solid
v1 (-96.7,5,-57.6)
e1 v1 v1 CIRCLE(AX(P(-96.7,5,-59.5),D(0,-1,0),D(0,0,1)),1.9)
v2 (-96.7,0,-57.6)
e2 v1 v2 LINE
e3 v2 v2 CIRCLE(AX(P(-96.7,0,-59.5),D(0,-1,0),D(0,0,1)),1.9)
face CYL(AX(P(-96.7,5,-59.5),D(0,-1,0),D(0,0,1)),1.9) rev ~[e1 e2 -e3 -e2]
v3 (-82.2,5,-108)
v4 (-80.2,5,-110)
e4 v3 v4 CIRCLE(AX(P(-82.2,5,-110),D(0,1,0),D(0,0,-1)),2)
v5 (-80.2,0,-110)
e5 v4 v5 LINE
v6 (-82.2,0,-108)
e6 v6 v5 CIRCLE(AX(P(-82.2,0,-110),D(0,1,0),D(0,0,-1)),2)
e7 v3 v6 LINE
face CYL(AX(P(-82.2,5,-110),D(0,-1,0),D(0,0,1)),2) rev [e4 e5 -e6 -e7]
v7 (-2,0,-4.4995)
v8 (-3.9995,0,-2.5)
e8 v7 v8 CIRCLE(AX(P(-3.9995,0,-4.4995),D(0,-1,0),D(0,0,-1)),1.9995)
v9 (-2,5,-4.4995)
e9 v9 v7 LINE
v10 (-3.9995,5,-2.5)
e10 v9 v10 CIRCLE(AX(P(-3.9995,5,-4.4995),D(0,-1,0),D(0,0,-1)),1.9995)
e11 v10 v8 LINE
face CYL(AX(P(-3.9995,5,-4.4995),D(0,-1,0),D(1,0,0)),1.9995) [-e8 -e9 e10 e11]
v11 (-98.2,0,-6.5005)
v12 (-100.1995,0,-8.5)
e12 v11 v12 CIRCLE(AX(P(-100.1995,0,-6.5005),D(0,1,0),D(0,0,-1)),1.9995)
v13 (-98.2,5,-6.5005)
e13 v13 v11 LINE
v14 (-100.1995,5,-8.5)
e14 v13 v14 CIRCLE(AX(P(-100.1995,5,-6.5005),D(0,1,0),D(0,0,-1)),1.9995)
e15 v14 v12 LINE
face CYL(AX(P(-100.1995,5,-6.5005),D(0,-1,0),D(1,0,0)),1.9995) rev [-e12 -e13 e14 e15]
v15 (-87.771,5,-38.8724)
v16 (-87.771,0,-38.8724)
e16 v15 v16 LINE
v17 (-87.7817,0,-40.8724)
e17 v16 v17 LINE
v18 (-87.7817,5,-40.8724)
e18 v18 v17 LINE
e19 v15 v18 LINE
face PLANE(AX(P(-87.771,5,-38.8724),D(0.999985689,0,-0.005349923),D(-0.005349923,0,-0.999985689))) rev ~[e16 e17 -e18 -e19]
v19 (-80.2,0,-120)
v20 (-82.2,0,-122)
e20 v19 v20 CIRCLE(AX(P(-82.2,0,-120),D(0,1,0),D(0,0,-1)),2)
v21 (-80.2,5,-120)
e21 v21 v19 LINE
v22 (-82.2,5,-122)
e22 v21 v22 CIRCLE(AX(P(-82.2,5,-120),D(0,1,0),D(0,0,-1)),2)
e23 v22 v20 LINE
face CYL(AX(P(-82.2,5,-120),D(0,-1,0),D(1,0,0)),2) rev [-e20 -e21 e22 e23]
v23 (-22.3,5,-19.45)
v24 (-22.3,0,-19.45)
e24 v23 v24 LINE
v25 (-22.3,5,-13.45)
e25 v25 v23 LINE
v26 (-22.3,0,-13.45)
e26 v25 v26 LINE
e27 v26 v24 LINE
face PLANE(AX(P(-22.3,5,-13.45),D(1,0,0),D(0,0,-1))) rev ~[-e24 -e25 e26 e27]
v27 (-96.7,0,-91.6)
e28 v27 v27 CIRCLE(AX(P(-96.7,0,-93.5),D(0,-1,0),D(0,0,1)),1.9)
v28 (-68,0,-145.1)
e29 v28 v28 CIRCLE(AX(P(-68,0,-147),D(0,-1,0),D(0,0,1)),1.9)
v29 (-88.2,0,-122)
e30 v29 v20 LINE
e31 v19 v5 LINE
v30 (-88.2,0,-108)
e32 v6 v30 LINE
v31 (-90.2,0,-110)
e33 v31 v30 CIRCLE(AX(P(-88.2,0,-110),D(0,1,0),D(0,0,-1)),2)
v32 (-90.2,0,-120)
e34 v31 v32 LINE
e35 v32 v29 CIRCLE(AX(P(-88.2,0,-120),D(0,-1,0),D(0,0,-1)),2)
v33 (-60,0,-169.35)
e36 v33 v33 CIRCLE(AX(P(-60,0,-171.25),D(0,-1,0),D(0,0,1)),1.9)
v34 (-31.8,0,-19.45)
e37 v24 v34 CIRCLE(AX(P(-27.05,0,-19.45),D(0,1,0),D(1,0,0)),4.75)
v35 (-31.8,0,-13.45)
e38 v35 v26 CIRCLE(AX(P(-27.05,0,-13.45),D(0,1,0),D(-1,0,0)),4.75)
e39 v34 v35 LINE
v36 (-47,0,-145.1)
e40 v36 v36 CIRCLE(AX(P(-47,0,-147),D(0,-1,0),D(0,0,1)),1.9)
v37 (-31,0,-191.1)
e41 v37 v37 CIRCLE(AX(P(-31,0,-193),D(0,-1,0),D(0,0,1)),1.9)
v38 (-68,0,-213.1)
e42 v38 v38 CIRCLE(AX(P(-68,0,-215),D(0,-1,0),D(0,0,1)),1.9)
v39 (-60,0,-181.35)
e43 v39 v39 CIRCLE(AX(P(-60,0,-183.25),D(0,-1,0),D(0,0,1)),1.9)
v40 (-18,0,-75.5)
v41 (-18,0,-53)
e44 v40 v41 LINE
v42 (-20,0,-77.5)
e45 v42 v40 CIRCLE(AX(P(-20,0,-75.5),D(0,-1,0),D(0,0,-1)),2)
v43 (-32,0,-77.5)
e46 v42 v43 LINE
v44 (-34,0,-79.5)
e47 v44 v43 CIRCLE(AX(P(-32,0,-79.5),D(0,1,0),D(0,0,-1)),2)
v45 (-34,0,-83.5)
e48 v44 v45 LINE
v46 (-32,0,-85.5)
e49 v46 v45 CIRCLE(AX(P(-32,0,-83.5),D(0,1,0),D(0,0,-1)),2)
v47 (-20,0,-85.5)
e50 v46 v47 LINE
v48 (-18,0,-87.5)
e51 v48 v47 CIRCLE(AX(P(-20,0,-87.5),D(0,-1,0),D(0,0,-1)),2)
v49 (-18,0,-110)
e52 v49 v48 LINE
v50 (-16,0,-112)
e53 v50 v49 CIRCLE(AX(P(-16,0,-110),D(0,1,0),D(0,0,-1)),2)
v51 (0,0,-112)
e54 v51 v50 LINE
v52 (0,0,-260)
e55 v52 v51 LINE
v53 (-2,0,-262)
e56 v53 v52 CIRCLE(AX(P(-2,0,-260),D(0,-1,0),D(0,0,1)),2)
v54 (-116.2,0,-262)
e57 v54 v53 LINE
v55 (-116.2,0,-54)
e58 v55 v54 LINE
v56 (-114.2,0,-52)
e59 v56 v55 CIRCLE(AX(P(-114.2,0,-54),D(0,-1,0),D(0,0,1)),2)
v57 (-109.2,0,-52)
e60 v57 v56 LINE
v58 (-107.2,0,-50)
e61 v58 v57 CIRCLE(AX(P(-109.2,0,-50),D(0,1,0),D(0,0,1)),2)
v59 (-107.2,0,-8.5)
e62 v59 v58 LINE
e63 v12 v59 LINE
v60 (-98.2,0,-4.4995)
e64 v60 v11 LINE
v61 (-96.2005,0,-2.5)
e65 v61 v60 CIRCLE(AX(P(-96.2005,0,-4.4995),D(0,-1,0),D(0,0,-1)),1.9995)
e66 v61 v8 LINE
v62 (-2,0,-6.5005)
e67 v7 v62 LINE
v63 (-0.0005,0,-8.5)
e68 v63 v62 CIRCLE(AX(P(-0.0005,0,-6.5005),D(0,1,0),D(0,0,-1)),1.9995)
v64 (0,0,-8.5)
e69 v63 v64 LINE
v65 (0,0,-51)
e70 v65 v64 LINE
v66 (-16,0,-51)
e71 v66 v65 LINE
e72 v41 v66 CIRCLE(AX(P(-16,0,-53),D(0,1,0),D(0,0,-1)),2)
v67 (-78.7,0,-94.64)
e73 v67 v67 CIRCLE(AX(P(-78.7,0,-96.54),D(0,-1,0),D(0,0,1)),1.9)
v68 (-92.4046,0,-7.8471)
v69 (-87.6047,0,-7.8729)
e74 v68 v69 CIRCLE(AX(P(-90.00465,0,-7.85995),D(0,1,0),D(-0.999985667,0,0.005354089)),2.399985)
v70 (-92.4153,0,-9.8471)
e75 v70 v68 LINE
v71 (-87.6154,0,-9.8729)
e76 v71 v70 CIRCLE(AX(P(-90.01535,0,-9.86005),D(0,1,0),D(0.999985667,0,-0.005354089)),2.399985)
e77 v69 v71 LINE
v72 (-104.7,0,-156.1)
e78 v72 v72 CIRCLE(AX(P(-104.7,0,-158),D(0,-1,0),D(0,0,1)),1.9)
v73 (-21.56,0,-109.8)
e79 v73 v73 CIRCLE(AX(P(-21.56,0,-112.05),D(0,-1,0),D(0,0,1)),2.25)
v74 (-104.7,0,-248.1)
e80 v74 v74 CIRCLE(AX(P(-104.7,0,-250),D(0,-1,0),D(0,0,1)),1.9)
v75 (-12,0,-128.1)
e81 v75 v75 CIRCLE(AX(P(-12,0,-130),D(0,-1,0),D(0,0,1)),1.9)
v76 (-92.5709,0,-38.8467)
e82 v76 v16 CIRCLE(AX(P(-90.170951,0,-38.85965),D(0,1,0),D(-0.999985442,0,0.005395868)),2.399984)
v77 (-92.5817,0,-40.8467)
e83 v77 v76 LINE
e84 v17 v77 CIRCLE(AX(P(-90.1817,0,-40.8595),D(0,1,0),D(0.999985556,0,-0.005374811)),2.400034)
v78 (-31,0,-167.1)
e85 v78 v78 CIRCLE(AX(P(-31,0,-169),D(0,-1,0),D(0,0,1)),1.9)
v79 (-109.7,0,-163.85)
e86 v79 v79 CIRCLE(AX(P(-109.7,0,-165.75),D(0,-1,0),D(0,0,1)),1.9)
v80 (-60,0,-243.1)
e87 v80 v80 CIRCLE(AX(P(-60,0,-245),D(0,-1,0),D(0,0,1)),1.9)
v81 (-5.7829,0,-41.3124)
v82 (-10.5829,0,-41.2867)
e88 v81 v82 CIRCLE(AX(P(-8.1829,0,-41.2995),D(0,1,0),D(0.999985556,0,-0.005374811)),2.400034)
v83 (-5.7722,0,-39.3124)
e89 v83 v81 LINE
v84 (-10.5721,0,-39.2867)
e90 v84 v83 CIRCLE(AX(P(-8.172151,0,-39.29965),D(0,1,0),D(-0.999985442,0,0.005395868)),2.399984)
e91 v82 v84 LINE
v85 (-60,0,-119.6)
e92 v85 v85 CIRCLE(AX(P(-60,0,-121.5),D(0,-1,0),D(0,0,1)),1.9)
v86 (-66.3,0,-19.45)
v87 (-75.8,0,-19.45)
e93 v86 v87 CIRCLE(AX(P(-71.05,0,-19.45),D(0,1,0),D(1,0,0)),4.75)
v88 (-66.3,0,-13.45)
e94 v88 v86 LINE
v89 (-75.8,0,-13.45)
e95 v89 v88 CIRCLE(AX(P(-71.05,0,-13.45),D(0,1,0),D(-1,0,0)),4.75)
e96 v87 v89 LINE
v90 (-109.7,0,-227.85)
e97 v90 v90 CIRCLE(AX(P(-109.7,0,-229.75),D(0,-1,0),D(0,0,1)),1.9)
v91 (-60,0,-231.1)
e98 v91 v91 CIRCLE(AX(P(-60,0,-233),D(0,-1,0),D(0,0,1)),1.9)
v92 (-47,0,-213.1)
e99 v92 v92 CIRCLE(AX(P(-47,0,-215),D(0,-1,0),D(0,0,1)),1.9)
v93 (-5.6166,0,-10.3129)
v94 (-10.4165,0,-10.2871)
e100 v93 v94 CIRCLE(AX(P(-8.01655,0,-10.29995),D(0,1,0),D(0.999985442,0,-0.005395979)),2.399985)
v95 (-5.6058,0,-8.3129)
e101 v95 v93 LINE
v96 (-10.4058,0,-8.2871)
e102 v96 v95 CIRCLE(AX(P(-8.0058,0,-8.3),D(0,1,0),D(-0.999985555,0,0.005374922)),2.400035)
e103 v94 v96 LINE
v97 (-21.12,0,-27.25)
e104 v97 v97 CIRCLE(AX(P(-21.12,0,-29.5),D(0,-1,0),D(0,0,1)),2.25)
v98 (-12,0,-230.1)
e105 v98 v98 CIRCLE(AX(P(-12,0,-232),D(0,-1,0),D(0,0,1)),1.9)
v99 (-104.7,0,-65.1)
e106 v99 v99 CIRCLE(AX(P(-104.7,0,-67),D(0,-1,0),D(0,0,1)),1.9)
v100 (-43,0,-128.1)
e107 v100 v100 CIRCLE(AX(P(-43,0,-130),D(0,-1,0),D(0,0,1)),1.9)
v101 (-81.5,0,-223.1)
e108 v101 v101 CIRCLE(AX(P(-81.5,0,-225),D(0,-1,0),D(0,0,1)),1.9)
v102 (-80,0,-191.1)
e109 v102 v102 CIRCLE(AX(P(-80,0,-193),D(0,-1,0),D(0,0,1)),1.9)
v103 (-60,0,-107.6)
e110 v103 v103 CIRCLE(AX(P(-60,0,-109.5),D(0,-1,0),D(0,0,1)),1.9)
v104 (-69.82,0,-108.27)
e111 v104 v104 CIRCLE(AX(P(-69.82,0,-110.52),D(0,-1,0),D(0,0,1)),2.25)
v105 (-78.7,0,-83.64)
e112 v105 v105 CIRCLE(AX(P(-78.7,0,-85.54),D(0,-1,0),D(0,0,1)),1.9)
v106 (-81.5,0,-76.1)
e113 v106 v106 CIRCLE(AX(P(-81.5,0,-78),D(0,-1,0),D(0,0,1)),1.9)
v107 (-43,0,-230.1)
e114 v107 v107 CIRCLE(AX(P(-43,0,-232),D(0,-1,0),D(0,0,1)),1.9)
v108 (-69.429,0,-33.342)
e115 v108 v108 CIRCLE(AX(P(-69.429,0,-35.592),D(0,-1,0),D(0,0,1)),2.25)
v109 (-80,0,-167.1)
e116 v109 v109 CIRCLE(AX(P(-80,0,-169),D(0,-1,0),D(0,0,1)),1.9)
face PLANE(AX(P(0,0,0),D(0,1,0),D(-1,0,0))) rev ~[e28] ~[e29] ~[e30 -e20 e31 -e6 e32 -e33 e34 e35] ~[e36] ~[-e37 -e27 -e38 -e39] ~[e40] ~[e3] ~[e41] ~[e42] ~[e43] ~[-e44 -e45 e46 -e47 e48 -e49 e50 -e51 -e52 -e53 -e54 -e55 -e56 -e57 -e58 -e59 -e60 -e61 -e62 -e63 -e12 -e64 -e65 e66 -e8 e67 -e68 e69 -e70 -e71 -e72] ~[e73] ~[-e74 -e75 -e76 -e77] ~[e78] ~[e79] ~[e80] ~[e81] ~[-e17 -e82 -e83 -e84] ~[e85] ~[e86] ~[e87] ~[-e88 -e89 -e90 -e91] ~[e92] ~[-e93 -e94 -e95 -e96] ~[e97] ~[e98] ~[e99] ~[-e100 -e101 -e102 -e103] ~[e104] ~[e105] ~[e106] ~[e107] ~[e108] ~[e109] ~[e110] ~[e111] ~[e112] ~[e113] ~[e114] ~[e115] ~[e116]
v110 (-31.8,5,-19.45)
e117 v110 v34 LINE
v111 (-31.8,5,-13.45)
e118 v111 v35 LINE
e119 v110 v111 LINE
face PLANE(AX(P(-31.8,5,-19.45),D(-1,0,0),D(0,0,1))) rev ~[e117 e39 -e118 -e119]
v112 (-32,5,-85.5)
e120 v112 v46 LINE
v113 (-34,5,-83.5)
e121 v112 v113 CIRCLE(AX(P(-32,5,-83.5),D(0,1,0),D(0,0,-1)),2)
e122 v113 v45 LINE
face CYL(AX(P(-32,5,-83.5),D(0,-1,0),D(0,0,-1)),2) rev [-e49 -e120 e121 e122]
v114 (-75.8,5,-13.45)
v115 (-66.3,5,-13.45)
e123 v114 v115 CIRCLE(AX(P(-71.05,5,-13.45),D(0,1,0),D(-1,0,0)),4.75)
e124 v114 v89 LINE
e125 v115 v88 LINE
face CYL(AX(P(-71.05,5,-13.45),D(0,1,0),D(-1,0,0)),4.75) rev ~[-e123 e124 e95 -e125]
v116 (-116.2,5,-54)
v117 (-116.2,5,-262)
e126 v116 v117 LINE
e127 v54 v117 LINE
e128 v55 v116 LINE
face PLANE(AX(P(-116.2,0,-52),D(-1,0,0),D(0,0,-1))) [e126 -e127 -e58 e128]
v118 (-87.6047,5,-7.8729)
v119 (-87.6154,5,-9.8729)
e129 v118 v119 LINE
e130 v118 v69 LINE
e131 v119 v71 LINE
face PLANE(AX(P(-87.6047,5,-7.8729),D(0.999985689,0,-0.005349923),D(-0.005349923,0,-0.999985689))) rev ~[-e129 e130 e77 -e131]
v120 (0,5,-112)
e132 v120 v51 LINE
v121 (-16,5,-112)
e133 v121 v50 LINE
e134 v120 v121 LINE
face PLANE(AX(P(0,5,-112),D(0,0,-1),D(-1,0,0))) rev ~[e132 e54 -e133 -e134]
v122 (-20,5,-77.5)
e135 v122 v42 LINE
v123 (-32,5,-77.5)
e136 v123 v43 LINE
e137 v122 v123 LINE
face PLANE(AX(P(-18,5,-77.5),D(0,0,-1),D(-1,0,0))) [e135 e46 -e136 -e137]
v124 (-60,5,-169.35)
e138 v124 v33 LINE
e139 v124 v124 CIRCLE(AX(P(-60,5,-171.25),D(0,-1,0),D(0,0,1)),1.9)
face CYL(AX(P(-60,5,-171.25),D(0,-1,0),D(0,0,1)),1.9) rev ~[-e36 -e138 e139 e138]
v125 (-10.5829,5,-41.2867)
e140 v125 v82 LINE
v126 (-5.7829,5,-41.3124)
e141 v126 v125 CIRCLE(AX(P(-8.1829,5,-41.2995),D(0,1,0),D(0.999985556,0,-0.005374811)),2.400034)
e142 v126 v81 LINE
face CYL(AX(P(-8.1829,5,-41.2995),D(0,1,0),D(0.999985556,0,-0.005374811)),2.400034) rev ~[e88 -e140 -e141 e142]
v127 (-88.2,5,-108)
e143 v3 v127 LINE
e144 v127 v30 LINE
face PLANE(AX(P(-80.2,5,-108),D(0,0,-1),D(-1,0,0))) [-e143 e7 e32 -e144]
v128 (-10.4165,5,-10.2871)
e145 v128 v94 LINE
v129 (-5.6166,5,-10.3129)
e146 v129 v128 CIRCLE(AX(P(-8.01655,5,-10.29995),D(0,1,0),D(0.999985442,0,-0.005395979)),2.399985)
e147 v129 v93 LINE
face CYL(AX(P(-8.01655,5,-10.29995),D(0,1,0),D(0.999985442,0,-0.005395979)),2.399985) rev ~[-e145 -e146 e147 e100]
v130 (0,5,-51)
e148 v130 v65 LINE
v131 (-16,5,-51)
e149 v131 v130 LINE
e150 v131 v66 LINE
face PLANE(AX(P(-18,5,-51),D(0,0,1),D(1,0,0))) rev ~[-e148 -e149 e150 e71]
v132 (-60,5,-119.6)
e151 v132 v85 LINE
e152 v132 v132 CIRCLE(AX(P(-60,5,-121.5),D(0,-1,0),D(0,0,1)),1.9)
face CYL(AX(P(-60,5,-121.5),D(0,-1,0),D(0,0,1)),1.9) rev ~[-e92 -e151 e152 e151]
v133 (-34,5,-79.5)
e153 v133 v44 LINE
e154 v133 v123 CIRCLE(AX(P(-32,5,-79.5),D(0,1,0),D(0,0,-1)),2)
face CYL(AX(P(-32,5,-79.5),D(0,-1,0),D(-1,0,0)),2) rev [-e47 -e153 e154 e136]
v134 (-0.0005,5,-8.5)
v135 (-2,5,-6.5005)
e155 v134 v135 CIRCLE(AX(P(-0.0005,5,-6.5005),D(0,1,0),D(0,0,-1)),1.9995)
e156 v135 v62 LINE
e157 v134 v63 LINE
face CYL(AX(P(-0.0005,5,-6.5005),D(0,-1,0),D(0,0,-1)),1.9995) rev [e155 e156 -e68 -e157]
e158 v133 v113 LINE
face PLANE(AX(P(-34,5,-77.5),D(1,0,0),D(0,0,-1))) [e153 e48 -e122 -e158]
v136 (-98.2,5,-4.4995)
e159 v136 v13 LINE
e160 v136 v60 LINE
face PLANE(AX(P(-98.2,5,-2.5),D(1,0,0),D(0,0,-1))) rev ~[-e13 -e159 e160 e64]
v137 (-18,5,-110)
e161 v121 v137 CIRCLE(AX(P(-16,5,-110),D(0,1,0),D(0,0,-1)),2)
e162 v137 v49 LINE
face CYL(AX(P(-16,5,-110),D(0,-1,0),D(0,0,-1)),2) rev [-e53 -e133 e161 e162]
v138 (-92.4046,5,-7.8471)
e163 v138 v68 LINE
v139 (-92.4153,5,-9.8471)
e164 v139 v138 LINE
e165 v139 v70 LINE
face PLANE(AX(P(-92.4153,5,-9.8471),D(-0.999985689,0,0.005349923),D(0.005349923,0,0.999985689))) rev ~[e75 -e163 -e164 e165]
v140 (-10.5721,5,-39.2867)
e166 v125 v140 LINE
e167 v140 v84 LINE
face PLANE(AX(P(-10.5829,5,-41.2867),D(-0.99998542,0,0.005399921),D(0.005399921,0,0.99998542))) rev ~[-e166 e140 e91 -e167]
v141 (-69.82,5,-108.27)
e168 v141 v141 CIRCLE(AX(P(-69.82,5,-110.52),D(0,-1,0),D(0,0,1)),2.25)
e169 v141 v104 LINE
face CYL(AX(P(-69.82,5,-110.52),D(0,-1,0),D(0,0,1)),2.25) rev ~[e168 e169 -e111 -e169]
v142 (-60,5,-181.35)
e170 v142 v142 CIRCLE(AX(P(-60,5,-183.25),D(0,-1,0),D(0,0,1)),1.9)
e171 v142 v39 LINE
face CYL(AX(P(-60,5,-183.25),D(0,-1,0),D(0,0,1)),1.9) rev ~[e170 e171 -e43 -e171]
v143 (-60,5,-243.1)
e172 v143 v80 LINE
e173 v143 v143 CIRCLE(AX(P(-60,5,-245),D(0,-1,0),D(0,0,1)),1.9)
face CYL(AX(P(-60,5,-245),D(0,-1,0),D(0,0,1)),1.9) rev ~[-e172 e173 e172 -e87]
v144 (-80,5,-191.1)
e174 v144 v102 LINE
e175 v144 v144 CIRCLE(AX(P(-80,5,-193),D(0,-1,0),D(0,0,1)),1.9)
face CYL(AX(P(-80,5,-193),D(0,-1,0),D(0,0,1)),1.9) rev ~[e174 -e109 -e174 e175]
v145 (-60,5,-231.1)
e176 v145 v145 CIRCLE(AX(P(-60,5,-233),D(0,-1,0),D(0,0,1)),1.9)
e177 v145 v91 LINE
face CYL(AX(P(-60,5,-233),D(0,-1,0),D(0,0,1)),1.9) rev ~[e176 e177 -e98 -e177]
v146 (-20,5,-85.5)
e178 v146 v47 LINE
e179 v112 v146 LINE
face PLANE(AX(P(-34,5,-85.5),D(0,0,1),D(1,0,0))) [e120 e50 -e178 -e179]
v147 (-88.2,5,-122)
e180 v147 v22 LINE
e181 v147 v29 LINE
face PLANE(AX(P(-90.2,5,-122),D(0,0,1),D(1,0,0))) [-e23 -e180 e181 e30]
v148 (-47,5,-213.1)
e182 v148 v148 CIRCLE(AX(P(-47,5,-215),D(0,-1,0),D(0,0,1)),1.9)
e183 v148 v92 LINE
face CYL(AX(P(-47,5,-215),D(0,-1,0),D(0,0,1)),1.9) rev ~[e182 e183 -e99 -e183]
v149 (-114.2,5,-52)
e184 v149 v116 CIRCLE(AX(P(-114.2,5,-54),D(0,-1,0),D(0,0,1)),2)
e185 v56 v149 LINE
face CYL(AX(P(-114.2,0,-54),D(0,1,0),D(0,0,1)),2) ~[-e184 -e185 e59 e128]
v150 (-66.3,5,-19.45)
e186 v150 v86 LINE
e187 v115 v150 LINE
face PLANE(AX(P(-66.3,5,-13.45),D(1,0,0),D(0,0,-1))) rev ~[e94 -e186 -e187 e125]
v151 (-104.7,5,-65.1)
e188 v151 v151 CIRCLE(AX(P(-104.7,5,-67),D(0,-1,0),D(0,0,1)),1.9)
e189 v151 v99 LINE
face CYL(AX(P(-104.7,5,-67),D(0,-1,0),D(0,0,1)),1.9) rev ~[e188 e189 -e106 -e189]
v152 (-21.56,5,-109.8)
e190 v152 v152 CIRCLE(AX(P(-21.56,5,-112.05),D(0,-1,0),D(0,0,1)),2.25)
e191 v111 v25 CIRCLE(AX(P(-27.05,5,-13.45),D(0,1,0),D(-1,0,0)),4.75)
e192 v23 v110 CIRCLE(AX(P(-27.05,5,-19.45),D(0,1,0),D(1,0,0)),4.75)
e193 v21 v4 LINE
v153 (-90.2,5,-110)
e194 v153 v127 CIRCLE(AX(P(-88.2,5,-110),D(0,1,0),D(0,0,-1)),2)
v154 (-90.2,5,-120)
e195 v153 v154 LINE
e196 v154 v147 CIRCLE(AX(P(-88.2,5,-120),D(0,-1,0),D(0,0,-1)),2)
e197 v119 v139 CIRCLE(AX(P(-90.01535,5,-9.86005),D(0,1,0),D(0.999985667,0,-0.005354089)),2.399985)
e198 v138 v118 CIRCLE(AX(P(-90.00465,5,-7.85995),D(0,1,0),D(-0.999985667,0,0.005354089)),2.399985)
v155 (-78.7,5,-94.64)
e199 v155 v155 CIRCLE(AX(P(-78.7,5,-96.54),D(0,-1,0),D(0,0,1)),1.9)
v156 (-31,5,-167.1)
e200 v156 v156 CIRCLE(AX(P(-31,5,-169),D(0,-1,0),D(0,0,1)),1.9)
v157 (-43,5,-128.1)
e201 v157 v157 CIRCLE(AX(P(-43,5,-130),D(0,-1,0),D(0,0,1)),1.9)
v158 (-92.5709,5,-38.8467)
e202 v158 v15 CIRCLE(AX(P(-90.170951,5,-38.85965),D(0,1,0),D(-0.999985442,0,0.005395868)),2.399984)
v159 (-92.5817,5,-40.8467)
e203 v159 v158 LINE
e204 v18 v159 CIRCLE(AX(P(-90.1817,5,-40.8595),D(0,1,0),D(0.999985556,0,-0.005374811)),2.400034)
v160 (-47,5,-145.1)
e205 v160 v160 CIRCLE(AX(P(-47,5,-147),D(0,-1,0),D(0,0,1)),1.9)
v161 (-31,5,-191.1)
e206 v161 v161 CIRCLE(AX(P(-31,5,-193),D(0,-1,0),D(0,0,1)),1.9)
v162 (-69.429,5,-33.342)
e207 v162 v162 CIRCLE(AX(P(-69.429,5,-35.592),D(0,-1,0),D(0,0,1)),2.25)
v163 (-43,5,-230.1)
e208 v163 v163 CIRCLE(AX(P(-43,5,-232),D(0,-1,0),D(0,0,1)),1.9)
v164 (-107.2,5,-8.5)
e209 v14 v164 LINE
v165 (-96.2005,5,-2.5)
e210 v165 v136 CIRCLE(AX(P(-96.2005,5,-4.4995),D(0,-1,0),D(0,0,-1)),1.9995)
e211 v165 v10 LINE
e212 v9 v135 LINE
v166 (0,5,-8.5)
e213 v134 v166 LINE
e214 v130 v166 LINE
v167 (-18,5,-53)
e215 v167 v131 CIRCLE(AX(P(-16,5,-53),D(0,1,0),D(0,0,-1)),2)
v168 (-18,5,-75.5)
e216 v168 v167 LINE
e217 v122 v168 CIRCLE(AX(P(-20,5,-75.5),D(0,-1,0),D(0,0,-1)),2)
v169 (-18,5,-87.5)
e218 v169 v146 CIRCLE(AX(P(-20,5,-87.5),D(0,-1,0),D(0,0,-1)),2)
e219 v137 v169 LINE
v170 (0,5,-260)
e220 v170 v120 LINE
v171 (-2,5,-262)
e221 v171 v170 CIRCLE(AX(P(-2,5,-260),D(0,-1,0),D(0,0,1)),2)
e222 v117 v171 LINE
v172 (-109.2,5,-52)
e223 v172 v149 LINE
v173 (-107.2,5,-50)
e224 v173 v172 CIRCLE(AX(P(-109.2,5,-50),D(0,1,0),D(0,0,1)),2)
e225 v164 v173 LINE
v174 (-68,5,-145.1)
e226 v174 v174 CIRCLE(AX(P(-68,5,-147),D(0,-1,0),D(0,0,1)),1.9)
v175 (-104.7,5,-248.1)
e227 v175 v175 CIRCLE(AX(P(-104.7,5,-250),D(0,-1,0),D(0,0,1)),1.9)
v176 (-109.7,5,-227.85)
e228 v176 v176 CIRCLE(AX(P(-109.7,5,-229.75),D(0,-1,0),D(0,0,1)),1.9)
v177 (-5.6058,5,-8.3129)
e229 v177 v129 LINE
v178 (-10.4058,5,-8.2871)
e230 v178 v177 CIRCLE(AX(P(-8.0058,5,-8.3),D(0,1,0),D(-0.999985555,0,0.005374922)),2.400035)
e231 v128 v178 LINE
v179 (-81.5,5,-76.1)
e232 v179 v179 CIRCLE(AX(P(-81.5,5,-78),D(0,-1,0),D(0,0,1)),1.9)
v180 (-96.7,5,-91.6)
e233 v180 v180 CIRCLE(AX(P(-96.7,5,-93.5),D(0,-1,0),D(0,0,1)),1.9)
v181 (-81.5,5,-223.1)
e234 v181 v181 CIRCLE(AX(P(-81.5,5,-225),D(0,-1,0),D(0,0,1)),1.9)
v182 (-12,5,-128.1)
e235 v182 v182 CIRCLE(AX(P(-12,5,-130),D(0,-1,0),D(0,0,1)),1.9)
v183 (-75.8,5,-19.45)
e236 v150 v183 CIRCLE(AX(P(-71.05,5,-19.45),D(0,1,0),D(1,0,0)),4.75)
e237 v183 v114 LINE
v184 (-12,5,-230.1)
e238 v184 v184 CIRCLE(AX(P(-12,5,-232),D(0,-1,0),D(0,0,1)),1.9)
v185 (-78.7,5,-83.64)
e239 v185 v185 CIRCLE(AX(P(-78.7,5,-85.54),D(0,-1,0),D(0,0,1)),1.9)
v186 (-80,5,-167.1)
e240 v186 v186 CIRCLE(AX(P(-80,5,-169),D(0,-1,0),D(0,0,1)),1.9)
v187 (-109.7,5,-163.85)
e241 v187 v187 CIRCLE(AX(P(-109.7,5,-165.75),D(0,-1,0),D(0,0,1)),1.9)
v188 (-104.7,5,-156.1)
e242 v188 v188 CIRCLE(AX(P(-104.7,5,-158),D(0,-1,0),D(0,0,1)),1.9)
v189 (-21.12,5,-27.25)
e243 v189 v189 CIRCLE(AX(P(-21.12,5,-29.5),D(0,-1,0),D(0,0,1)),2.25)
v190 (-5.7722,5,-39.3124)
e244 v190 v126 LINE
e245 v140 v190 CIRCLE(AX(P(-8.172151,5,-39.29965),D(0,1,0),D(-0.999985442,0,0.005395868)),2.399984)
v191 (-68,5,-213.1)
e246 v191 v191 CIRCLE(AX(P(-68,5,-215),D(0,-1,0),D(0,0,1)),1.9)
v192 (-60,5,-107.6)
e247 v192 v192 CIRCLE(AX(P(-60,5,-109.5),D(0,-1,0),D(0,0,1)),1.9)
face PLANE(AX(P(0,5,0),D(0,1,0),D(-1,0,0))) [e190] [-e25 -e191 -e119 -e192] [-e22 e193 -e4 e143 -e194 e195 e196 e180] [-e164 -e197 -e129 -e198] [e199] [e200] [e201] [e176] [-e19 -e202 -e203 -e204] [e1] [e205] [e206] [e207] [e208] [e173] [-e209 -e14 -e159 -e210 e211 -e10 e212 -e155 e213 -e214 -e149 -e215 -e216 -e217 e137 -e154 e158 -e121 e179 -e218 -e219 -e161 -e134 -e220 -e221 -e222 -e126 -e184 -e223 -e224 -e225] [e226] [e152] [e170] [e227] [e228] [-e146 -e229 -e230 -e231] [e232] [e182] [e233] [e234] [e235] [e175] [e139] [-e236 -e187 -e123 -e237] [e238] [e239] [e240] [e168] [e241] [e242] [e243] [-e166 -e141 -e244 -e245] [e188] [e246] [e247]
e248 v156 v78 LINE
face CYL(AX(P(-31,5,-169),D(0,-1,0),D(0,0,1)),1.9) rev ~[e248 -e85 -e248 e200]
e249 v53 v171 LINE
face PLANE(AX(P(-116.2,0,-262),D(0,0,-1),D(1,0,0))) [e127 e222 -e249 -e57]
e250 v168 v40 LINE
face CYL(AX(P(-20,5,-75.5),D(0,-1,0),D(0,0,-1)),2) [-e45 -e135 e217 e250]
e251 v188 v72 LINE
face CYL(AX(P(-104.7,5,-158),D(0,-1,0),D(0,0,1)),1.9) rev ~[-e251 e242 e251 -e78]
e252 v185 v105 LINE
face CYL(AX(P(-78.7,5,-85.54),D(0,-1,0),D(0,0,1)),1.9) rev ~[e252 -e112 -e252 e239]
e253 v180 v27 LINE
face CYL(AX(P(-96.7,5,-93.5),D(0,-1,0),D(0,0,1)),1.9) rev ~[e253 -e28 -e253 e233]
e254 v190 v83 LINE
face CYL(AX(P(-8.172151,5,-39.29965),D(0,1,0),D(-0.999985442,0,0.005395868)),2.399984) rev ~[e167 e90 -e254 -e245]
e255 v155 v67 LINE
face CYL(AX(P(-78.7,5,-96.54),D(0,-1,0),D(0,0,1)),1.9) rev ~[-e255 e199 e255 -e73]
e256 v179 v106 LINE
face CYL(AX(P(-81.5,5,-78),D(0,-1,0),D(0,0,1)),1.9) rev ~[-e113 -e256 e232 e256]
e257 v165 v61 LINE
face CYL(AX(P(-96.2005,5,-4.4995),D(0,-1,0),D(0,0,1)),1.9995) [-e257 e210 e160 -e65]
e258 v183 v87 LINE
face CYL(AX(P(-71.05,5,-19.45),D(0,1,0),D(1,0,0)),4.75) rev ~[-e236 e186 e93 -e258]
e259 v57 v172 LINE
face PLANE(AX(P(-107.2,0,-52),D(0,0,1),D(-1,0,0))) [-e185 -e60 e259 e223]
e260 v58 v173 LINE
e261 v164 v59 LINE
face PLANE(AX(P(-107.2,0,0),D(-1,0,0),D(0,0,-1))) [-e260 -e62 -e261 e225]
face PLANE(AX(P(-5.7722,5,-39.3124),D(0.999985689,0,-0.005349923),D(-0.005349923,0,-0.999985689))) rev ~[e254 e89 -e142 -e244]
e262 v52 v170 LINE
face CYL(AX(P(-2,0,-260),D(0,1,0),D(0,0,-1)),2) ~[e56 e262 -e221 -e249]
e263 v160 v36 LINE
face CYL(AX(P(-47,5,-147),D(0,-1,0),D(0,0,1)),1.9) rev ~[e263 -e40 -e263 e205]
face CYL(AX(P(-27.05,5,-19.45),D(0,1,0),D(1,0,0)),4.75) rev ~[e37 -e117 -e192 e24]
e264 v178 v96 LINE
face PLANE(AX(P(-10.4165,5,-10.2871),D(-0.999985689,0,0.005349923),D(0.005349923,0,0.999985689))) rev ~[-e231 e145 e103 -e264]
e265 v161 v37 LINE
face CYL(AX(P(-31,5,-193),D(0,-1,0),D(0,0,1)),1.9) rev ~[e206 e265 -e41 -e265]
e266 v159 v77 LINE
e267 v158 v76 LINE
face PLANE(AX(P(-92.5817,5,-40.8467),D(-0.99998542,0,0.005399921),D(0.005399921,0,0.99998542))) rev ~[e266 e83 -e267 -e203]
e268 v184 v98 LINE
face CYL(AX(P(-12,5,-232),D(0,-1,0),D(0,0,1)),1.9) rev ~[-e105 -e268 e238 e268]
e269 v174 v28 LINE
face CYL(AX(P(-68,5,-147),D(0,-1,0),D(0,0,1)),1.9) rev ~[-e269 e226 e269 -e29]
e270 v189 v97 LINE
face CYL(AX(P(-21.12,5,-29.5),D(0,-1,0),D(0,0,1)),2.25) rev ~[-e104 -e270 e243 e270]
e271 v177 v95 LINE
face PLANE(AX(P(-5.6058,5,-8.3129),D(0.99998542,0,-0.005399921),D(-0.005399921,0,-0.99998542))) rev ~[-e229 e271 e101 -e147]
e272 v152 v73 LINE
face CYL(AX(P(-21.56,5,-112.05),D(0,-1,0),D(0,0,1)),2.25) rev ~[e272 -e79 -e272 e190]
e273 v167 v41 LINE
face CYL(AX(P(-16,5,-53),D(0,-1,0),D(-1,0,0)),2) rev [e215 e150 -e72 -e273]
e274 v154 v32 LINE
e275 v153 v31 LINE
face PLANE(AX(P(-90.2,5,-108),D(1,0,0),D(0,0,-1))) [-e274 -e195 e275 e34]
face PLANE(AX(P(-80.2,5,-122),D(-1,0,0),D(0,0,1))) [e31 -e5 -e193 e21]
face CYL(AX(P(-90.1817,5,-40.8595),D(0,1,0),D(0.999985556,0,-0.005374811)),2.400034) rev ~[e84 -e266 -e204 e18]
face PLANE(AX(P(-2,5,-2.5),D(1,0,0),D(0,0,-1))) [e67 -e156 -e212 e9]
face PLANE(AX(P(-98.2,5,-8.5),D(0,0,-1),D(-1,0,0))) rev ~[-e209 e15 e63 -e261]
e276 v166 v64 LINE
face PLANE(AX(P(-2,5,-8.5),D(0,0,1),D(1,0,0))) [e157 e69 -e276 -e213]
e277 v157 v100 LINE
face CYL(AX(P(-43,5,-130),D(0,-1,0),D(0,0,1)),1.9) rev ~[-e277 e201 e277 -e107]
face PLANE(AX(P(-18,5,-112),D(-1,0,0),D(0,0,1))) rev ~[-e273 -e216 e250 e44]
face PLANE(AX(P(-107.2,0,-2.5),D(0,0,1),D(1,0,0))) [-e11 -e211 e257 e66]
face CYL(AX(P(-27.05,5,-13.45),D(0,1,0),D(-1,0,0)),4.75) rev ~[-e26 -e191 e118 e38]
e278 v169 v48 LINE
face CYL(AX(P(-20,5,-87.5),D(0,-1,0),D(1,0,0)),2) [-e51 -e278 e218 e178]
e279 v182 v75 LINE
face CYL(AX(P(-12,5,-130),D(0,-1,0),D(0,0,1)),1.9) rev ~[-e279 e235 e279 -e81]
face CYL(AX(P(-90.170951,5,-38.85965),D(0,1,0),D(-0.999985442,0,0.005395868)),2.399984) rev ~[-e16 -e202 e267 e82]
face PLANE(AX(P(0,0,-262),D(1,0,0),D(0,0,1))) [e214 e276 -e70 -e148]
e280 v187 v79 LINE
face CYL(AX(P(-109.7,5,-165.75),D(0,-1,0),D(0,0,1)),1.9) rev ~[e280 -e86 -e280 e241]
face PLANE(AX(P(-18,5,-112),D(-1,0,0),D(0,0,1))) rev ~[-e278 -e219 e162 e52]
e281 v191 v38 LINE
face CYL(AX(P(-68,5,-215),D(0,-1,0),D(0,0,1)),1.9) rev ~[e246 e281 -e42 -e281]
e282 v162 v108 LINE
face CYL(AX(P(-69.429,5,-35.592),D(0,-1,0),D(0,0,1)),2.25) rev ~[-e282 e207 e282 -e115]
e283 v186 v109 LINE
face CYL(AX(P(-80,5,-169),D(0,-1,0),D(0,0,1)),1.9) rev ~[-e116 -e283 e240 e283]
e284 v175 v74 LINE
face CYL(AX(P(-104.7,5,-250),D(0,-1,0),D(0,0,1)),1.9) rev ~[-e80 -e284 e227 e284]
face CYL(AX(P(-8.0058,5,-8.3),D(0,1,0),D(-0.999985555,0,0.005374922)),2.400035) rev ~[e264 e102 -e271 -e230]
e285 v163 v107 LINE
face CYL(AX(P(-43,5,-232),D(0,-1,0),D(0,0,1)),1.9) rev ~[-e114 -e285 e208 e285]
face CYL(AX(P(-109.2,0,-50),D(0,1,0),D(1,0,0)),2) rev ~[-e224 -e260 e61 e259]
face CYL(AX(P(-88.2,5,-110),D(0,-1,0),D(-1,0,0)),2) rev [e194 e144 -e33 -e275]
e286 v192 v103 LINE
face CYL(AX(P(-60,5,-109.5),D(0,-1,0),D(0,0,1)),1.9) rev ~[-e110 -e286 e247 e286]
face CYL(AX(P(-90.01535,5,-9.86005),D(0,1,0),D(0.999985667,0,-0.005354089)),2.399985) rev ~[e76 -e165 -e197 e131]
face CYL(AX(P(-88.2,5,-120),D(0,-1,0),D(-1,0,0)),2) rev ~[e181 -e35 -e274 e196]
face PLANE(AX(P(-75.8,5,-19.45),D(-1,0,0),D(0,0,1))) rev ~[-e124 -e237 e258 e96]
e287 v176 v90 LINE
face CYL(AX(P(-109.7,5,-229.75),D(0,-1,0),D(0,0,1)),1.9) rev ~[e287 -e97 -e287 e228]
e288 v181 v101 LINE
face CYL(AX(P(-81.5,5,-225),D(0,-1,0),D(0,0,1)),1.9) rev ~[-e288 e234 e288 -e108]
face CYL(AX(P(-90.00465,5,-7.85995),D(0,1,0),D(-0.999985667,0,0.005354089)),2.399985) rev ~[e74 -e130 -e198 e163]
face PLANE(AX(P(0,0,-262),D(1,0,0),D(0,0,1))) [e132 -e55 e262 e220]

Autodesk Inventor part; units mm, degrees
ref_plane "YZ Plane" through (0, 0, 0) normal (1, 0, 0) x (0, 1, 0)
ref_plane "XZ Plane" through (0, 0, 0) normal (0, 1, 0) x (-1, 0, 0)
ref_plane "XY Plane" through (0, 0, 0) normal (0, 0, 1) x (1, 0, 0)
sketch "Sketch1" plane through (0, 0, 0) normal (0, 1, 0) x (-1, 0, 0)
  line L0 (0, 0) -> (107.2, 0)
  line L1 (116.2, -52) -> (116.2, -262)
  line L2 (116.2, -262) -> (0, -262)
  line L3 (0, -262) -> (0, 0)
  line L4 (107.2, 0) -> (107.2, -52)
  line L5 (107.2, -52) -> (116.2, -52)
  dimension "d4" = 9
  dimension "d5" = 107.2
  dimension "d6" = 210
  dimension "d7" = 262
extrude "Extrusion1" add sketch "Sketch1" along normal blind 5
fillet "Fillet1" radius 2 3 edges at (-116.2, 2.5, -52) (-107.2, 2.5, -52) (0, 2.5, -262)
sketch "Sketch2" plane through (0, 5, 0) normal (0, 1, 0) x (1, 0, 0)
  line L0 (-12, -58.0921) -> (-12, 320.7627) construction
  line L1 (-43, -58.0921) -> (-43, 320.7627) construction
  line L2 (-149.1257, 232) -> (35.6079, 232) construction
  line L3 (-154.8253, 130) -> (27.8967, 130) construction
  line L4 (-114.2, 52) -> (-109.2, 52) construction
  line L5 (0, 0) -> (0, 260) projected
  line L6 (-2, 262) -> (-116.2, 262) projected
  point P0 (-43, 130)
  point P1 (-12, 130)
  point P2 (-43, 232)
  point P3 (-12, 232)
  point P4 (0, 2)
  point P5 (-114.2, 262)
  dimension "d20" = 12
  dimension "d21" = 31
  dimension "d43" = 30
  dimension "d44" = 102
hole "Hole1" at (-43, 5, -130) at (-12, 5, -130) at (-43, 5, -232) at (-12, 5, -232) direction (0, -1, 0) diameter 3.8 end through all
sketch "Sketch3" plane through (0, 5, 0) normal (0, 1, 0) x (1, 0, 0)
  line L0 (0, 0) -> (0, 260) projected
  line L1 (-8.0112, 9.3) -> (-90.01, 8.86) construction
  line L2 (-90.01, 8.86) -> (-90.1763, 39.8596) construction
  line L3 (-90.1763, 39.8596) -> (-8.1775, 40.2996) construction
  line L4 (-8.1775, 40.2996) -> (-8.0112, 9.3) construction
  line L5 (-8.0112, 9.3) -> (-90.1763, 39.8596) construction
  line L6 (-90.01, 8.86) -> (-8.1775, 40.2996) construction
  line L7 (-107.2, 0) -> (0, 0) projected
  line L8 (-90.0046, 7.86) -> (-90.0154, 9.86) construction
  line L9 (-87.6047, 7.8729) -> (-87.6154, 9.8729)
  line L10 (-92.4153, 9.8471) -> (-92.4046, 7.8471)
  arc A0 (-92.4046, 7.8471) -> (-87.6047, 7.8729) centre (-90.0046, 7.86) ccw
  arc A1 (-87.6154, 9.8729) -> (-92.4153, 9.8471) centre (-90.0154, 9.86) ccw
  line L11 (-90.171, 38.8596) -> (-90.1817, 40.8595) construction
  line L12 (-87.771, 38.8724) -> (-87.7817, 40.8724)
  line L13 (-92.5817, 40.8467) -> (-92.5709, 38.8467)
  arc A2 (-92.5709, 38.8467) -> (-87.771, 38.8724) centre (-90.171, 38.8596) ccw
  arc A3 (-87.7817, 40.8724) -> (-92.5817, 40.8467) centre (-90.1817, 40.8595) ccw
  line L14 (-8.1722, 39.2996) -> (-8.1829, 41.2995) construction
  line L15 (-5.7722, 39.3124) -> (-5.7829, 41.3124)
  line L16 (-10.5829, 41.2867) -> (-10.5721, 39.2867)
  arc A4 (-10.5721, 39.2867) -> (-5.7722, 39.3124) centre (-8.1722, 39.2996) ccw
  arc A5 (-5.7829, 41.3124) -> (-10.5829, 41.2867) centre (-8.1829, 41.2995) ccw
  line L17 (-8.0058, 8.3) -> (-8.0165, 10.3) construction
  line L18 (-5.6058, 8.3129) -> (-5.6166, 10.3129)
  line L19 (-10.4165, 10.2871) -> (-10.4058, 8.2871)
  arc A6 (-10.4058, 8.2871) -> (-5.6058, 8.3129) centre (-8.0058, 8.3) ccw
  arc A7 (-5.6166, 10.3129) -> (-10.4165, 10.2871) centre (-8.0165, 10.3) ccw
  point P0 (-90.1763, 39.8596)
  point P1 (0, 2)
  point P2 (-49.0938, 24.5798)
  point P3 (-105.2, 0)
  point P4 (-2, 0)
  point P5 (-90.1763, 39.8596)
  point P6 (-90.1763, 39.8596)
  point P7 (-8.1775, 40.2996)
  point P8 (-8.1775, 40.2996)
  point P9 (-8.0112, 9.3)
  point P10 (-8.0112, 9.3)
  dimension "d24" = 82
  dimension "d25" = 31
  dimension "d26" = 8.86
  dimension "d27" = 90.01
  dimension "d28" = 9.3
  dimension "d29" = 40.2996
  dimension "d30" = 39.8595
  dimension "d31" = 1
  dimension "d32" = 4.8
  dimension "d33" = 1
  dimension "d34" = 4.8
  dimension "d35" = 1
  dimension "d36" = 4.8
  dimension "d37" = 1
  dimension "d38" = 4.8
  dimension "d41" = 81.9988
  dimension "d42" = 0.1663
extrude "Extrusion2" cut sketch "Sketch3" against normal through all
sketch "Sketch4" plane through (0, 5, 0) normal (0, 1, 0) x (1, 0, 0)
  line L0 (0, 0) -> (0, 260) projected
  line L1 (0, 112) -> (-18, 112)
  line L2 (-18, 112) -> (-18, 51)
  line L3 (-18, 51) -> (0, 51)
  line L4 (0, 51) -> (0, 112)
  line L5 (-2, 262) -> (-116.2, 262) projected
  point P0 (0, 2)
  point P1 (-114.2, 262)
  point P2 (0, 51)
  dimension "d45" = 61
  dimension "d46" = 150
  dimension "d47" = 18
extrude "Extrusion3" cut sketch "Sketch4" against normal through all
fillet "Fillet2" radius 2 2 edges at (-18, 2.5, -112) (-18, 2.5, -51)
sketch "Sketch5" plane through (0, 5, 0) normal (0, 1, 0) x (1, 0, 0)
  line L0 (-190.0868, 16.45) -> (100.3829, 16.45) construction
  line L1 (-71.05, 85.7374) -> (-71.05, -34.478) construction
  line L2 (-116.2, 262) -> (-116.2, 54) construction
  line L3 (-27.05, 83.5) -> (-27.05, -34.478) construction
  line L4 (-107.2, 0) -> (0, 0) construction
  line L5 (-107.2, 50) -> (-107.2, 0) construction
  line L6 (-27.05, 13.45) -> (-27.05, 19.45)
  line L7 (-22.3, 13.45) -> (-22.3, 19.45)
  line L8 (-31.8, 19.45) -> (-31.8, 13.45)
  arc A0 (-31.8, 13.45) -> (-22.3, 13.45) centre (-27.05, 13.45) ccw
  arc A1 (-22.3, 19.45) -> (-31.8, 19.45) centre (-27.05, 19.45) ccw
  line L9 (-71.05, 13.45) -> (-71.05, 19.45)
  line L10 (-66.3, 13.45) -> (-66.3, 19.45)
  line L11 (-75.8, 19.45) -> (-75.8, 13.45)
  arc A2 (-75.8, 13.45) -> (-66.3, 13.45) centre (-71.05, 13.45) ccw
  arc A3 (-66.3, 19.45) -> (-75.8, 19.45) centre (-71.05, 19.45) ccw
  point P0 (-116.2, 260)
  point P1 (-105.2, 0)
  point P2 (-2, 0)
  point P3 (-107.2, 2)
  point P4 (-27.05, 16.45)
  point P5 (-71.05, 16.45)
  dimension "d51" = 16.45
  dimension "d52" = 36.15
  dimension "d53" = 80.15
  dimension "d54" = 3
  dimension "d55" = 9.5
  dimension "d56" = 3
  dimension "d57" = 9.5
extrude "Extrusion4" cut sketch "Sketch5" against normal blind 10
sketch "Sketch6" plane through (0, 5, 0) normal (0, 1, 0) x (1, 0, 0)
  line L0 (-78.7, 111.8556) -> (-78.7, -42.3162) construction
  line L1 (-135.3054, 85.54) -> (-37.9202, 85.54) construction
  line L2 (-134.0207, 96.54) -> (-37.9202, 96.54) construction
  line L3 (-116.2, 262) -> (-116.2, 54) construction
  line L4 (-107.2, 0) -> (0, 0) construction
  point P0 (-116.2, 260)
  point P1 (-105.2, 0)
  point P2 (-2, 0)
  point P3 (-78.7, 96.54)
  point P4 (-78.7, 85.54)
  dimension "d60" = 37.5
  dimension "d61" = 85.54
  dimension "d62" = 96.54
hole "Hole2" at (-78.7, 5, -96.54) at (-78.7, 5, -85.54) direction (0, -1, 0) diameter 3.8 end through all
sketch "Sketch7" plane through (-107.2, 0, 0) normal (0, 0, 1) x (1, 0, 0)
  line L0 (0, 0) -> (107.2, 0) projected
  line L1 (107.2, 0) -> (107.2, 5) projected
  line L2 (0, 5) -> (107.2, 5) projected
  line L3 (0, 0) -> (0, 5) projected
  line L4 (0, 0) -> (107.2, 0)
  line L5 (107.2, 0) -> (107.2, 5)
  line L6 (107.2, 5) -> (0, 5)
  line L7 (0, 5) -> (0, 0)
extrude "Extrusion5" cut sketch "Sketch7" against normal blind 2.5
sketch "Sketch8" plane through (0, 5, 0) normal (0, 1, 0) x (1, 0, 0)
  line L0 (-107.2, 2.5) -> (0, 2.5) projected
  line L1 (0, 112) -> (0, 51) projected
  point P0 (0, 0)
  point P1 (-21.12, 29.5)
  point P2 (-69.429, 35.592)
  point P3 (-69.82, 110.52)
  point P4 (-21.56, 112.05)
  point P5 (-103.2, 2.5)
  point P6 (-4, 2.5)
  point P7 (0, 6.5)
  dimension "d74" = 27
  dimension "d75" = 21.12
  dimension "d76" = 33.092
  dimension "d77" = 69.429
  dimension "d80" = 109.55
  dimension "d81" = 108.02
  dimension "d82" = 21.56
  dimension "d83" = 69.82
hole "Hole3" at (-21.12, 5, -29.5) at (-69.429, 5, -35.592) at (-69.82, 5, -110.52) at (-21.56, 5, -112.05) direction (0, -1, 0) diameter 4.5 end through all
sketch "Sketch10" plane through (0, 5, 0) normal (0, 1, 0) x (1, 0, 0)
  line L0 (-60, 244.888) -> (-60, 121.612) construction
  line L1 (0, 112) -> (0, 260) construction
  line L2 (-2, 262) -> (-116.2, 262) construction
  point P0 (0, 0)
  point P1 (-60, 245)
  point P2 (-60, 233)
  point P3 (-114.2, 262)
  point P4 (-60, 183.25)
  point P5 (-60, 171.25)
  dimension "d102" = 60
  dimension "d103" = 17
  dimension "d104" = 12
  dimension "d105" = 61.75
  dimension "d106" = 61.75
hole "Hole5" at (-60, 5, -245) at (-60, 5, -233) at (-60, 5, -183.25) at (-60, 5, -171.25) direction (0, -1, 0) diameter 3.8 end through all
sketch "Sketch11" plane through (0, 5, 0) normal (0, 1, 0) x (1, 0, 0)
  line L0 (-179.761, 133.5) -> (45.4036, 133.5) construction
  line L1 (-2, 262) -> (-116.2, 262) construction
  line L2 (-60, 306.7904) -> (-60, 56.1772) construction
  line L3 (0, 112) -> (0, 260) construction
  point P0 (0, 0)
  point P1 (-114.2, 262)
  point P2 (-60, 121.5)
  point P3 (-60, 109.5)
  dimension "d114" = 128.5
  dimension "d115" = 60
  dimension "d116" = 12
  dimension "d117" = 12
hole "Hole6" at (-60, 5, -121.5) at (-60, 5, -109.5) direction (0, -1, 0) diameter 3.8 end through all
sketch "Sketch12" plane through (0, 5, 0) normal (0, 1, 0) x (1, 0, 0)
  line L0 (-109.7, 283.3121) -> (-109.7, 62.2956) construction
  line L1 (-116.2, 262) -> (-116.2, 54) projected
  line L2 (-2, 262) -> (-116.2, 262) projected
  point P0 (0, 0)
  point P1 (-109.7, 229.75)
  point P2 (-109.7, 165.75)
  dimension "d125" = 6.5
  dimension "d126" = 32.25
  dimension "d127" = 64
hole "Hole7" at (-109.7, 5, -229.75) at (-109.7, 5, -165.75) direction (0, -1, 0) diameter 3.8 end through all
sketch "Sketch13" plane through (0, 5, 0) normal (0, 1, 0) x (1, 0, 0)
  line L0 (-96.7, 282.6166) -> (-96.7, 46.4952) construction
  line L1 (-116.2, 262) -> (-116.2, 54) projected
  line L2 (-2, 262) -> (-116.2, 262) projected
  point P0 (0, 0)
  point P1 (-96.7, 93.5)
  point P2 (-96.7, 59.5)
  dimension "d135" = 19.5
  dimension "d136" = 168.5
  dimension "d137" = 34
hole "Hole8" at (-96.7, 5, -93.5) at (-96.7, 5, -59.5) direction (0, -1, 0) diameter 3.8 end through all
sketch "Sketch14" plane through (0, 5, 0) normal (0, 1, 0) x (1, 0, 0)
  line L0 (-104.7, 331.3902) -> (-104.7, -52.1712) construction
  line L1 (-116.2, 262) -> (-116.2, 54) construction
  line L2 (-2, 262) -> (-116.2, 262) construction
  point P0 (0, 0)
  point P1 (-104.7, 67)
  point P2 (-104.7, 158)
  point P3 (-104.7, 250)
  dimension "d145" = 11.5
  dimension "d146" = 12
  dimension "d147" = 104
  dimension "d148" = 195
hole "Hole9" at (-104.7, 5, -67) at (-104.7, 5, -158) at (-104.7, 5, -250) direction (0, -1, 0) diameter 3.8 end through all
sketch "Sketch15" plane through (0, 5, 0) normal (0, 1, 0) x (1, 0, 0)
  line L0 (-90.2, 122) -> (-80.2, 122)
  line L1 (-80.2, 122) -> (-80.2, 108)
  line L2 (-80.2, 108) -> (-90.2, 108)
  line L3 (-90.2, 108) -> (-90.2, 122)
  line L4 (-116.2, 262) -> (-116.2, 54) projected
  line L5 (-2, 262) -> (-116.2, 262) projected
  point P0 (0, 0)
  dimension "d156" = 10
  dimension "d157" = 14
  dimension "d158" = 26
  dimension "d159" = 140
extrude "Extrusion6" cut sketch "Sketch15" against normal through all
fillet "Fillet5" radius 2 4 edges at (-90.2, 2.5, -122) (-80.2, 2.5, -122) (-80.2, 2.5, -108) (-90.2, 2.5, -108)
sketch "Sketch16" plane through (0, 5, 0) normal (0, 1, 0) x (1, 0, 0)
  line L0 (-107.2, 50) -> (-107.2, 2.5) projected
  line L1 (-107.2, 2.5) -> (-98.2, 2.5)
  line L2 (-98.2, 2.5) -> (-98.2, 8.5)
  line L3 (-98.2, 8.5) -> (-107.2, 8.5)
  line L4 (-107.2, 8.5) -> (-107.2, 2.5)
  line L5 (-107.2, 2.5) -> (0, 2.5) projected
  line L6 (0, 2.5) -> (-2, 2.5)
  line L7 (-2, 2.5) -> (-2, 8.5)
  line L8 (-2, 8.5) -> (0, 8.5)
  line L9 (0, 8.5) -> (0, 2.5)
  point P0 (0, 0)
  dimension "d163" = 9
  dimension "d164" = 6
  dimension "d165" = 2
  dimension "d166" = 6
extrude "Extrusion7" cut sketch "Sketch16" against normal through all
fillet "Fillet6" radius 2 4 edges at (-2, 2.5, -8.5) (-2, 2.5, -2.5) (-98.2, 2.5, -2.5) (-98.2, 2.5, -8.5)
sketch "Sketch17" plane through (0, 5, 0) normal (0, 1, 0) x (1, 0, 0)
  line L0 (-18, 53) -> (-18, 102)
  line L1 (-34, 85.5) -> (-18, 85.5)
  line L2 (-18, 85.5) -> (-18, 77.5)
  line L3 (-18, 77.5) -> (-34, 77.5)
  line L4 (-34, 77.5) -> (-34, 85.5)
  line L5 (-48.5608, 81.5) -> (-5.1169, 81.5) construction
  line L6 (-16, 112) -> (0, 112) projected
  line L7 (0, 8.5) -> (0, 51) projected
  point P0 (0, 0)
  point P1 (-18, 81.5)
  dimension "d170" = 8
  dimension "d171" = 30.5
  dimension "d172" = 34
extrude "Extrusion8" cut sketch "Sketch17" against normal through all
fillet "Fillet7" radius 2 4 edges at (-18, 2.5, -85.5) (-34, 2.5, -85.5) (-34, 2.5, -77.5) (-18, 2.5, -77.5)
sketch "Sketch18" plane through (0, 5, 0) normal (0, 1, 0) x (1, 0, 0)
  line L0 (-81.5, 293.9819) -> (-81.5, -46.0174) construction
  line L1 (0, 112) -> (0, 260) projected
  line L2 (-2, 262) -> (-116.2, 262) projected
  point P0 (0, 0)
  point P1 (-81.5, 225)
  point P2 (-81.5, 78)
  dimension "d176" = 81.5
  dimension "d177" = 37
  dimension "d178" = 147
hole "Hole10" at (-81.5, 5, -225) at (-81.5, 5, -78) direction (0, -1, 0) diameter 3.8 end through all
sketch "Sketch19" plane through (0, 5, 0) normal (0, 1, 0) x (1, 0, 0)
  line L0 (-77, 212) -> (-34, 212) construction
  line L1 (-34, 212) -> (-34, 150) construction
  line L2 (-34, 150) -> (-77, 150) construction
  line L3 (-77, 150) -> (-77, 212) construction
  line L4 (0, 112) -> (0, 260) construction
  line L5 (-31, 215) -> (-80, 215) construction
  line L6 (-80, 215) -> (-80, 147) construction
  line L7 (-80, 147) -> (-31, 147) construction
  line L8 (-31, 147) -> (-31, 215) construction
  line L9 (-2, 262) -> (-116.2, 262) projected
  point P0 (0, 0)
  point P1 (-47, 215)
  point P2 (-68, 215)
  point P3 (-80, 193)
  point P4 (-80, 169)
  point P5 (-68, 147)
  point P6 (-47, 147)
  point P7 (-31, 193)
  point P8 (-31, 169)
  dimension "d186" = 43
  dimension "d187" = 62
  dimension "d188" = 34
  dimension "d189" = 3
  dimension "d191" = 12
  dimension "d192" = 21
  dimension "d193" = 21
  dimension "d194" = 12
  dimension "d195" = 22
  dimension "d196" = 22
  dimension "d204" = 22
  dimension "d205" = 22
  dimension "d206" = 47
hole "Hole11" at (-47, 5, -215) at (-68, 5, -215) at (-80, 5, -193) at (-80, 5, -169) at (-68, 5, -147) at (-47, 5, -147) at (-31, 5, -193) at (-31, 5, -169) direction (0, -1, 0) diameter 3.8 end through all
equation "\"d32\" = d34"
equation "\"d36\" = d34"
equation "\"d38\" = d34"
equation "\"d106\" = d105"
properties part number "Top Divider"
